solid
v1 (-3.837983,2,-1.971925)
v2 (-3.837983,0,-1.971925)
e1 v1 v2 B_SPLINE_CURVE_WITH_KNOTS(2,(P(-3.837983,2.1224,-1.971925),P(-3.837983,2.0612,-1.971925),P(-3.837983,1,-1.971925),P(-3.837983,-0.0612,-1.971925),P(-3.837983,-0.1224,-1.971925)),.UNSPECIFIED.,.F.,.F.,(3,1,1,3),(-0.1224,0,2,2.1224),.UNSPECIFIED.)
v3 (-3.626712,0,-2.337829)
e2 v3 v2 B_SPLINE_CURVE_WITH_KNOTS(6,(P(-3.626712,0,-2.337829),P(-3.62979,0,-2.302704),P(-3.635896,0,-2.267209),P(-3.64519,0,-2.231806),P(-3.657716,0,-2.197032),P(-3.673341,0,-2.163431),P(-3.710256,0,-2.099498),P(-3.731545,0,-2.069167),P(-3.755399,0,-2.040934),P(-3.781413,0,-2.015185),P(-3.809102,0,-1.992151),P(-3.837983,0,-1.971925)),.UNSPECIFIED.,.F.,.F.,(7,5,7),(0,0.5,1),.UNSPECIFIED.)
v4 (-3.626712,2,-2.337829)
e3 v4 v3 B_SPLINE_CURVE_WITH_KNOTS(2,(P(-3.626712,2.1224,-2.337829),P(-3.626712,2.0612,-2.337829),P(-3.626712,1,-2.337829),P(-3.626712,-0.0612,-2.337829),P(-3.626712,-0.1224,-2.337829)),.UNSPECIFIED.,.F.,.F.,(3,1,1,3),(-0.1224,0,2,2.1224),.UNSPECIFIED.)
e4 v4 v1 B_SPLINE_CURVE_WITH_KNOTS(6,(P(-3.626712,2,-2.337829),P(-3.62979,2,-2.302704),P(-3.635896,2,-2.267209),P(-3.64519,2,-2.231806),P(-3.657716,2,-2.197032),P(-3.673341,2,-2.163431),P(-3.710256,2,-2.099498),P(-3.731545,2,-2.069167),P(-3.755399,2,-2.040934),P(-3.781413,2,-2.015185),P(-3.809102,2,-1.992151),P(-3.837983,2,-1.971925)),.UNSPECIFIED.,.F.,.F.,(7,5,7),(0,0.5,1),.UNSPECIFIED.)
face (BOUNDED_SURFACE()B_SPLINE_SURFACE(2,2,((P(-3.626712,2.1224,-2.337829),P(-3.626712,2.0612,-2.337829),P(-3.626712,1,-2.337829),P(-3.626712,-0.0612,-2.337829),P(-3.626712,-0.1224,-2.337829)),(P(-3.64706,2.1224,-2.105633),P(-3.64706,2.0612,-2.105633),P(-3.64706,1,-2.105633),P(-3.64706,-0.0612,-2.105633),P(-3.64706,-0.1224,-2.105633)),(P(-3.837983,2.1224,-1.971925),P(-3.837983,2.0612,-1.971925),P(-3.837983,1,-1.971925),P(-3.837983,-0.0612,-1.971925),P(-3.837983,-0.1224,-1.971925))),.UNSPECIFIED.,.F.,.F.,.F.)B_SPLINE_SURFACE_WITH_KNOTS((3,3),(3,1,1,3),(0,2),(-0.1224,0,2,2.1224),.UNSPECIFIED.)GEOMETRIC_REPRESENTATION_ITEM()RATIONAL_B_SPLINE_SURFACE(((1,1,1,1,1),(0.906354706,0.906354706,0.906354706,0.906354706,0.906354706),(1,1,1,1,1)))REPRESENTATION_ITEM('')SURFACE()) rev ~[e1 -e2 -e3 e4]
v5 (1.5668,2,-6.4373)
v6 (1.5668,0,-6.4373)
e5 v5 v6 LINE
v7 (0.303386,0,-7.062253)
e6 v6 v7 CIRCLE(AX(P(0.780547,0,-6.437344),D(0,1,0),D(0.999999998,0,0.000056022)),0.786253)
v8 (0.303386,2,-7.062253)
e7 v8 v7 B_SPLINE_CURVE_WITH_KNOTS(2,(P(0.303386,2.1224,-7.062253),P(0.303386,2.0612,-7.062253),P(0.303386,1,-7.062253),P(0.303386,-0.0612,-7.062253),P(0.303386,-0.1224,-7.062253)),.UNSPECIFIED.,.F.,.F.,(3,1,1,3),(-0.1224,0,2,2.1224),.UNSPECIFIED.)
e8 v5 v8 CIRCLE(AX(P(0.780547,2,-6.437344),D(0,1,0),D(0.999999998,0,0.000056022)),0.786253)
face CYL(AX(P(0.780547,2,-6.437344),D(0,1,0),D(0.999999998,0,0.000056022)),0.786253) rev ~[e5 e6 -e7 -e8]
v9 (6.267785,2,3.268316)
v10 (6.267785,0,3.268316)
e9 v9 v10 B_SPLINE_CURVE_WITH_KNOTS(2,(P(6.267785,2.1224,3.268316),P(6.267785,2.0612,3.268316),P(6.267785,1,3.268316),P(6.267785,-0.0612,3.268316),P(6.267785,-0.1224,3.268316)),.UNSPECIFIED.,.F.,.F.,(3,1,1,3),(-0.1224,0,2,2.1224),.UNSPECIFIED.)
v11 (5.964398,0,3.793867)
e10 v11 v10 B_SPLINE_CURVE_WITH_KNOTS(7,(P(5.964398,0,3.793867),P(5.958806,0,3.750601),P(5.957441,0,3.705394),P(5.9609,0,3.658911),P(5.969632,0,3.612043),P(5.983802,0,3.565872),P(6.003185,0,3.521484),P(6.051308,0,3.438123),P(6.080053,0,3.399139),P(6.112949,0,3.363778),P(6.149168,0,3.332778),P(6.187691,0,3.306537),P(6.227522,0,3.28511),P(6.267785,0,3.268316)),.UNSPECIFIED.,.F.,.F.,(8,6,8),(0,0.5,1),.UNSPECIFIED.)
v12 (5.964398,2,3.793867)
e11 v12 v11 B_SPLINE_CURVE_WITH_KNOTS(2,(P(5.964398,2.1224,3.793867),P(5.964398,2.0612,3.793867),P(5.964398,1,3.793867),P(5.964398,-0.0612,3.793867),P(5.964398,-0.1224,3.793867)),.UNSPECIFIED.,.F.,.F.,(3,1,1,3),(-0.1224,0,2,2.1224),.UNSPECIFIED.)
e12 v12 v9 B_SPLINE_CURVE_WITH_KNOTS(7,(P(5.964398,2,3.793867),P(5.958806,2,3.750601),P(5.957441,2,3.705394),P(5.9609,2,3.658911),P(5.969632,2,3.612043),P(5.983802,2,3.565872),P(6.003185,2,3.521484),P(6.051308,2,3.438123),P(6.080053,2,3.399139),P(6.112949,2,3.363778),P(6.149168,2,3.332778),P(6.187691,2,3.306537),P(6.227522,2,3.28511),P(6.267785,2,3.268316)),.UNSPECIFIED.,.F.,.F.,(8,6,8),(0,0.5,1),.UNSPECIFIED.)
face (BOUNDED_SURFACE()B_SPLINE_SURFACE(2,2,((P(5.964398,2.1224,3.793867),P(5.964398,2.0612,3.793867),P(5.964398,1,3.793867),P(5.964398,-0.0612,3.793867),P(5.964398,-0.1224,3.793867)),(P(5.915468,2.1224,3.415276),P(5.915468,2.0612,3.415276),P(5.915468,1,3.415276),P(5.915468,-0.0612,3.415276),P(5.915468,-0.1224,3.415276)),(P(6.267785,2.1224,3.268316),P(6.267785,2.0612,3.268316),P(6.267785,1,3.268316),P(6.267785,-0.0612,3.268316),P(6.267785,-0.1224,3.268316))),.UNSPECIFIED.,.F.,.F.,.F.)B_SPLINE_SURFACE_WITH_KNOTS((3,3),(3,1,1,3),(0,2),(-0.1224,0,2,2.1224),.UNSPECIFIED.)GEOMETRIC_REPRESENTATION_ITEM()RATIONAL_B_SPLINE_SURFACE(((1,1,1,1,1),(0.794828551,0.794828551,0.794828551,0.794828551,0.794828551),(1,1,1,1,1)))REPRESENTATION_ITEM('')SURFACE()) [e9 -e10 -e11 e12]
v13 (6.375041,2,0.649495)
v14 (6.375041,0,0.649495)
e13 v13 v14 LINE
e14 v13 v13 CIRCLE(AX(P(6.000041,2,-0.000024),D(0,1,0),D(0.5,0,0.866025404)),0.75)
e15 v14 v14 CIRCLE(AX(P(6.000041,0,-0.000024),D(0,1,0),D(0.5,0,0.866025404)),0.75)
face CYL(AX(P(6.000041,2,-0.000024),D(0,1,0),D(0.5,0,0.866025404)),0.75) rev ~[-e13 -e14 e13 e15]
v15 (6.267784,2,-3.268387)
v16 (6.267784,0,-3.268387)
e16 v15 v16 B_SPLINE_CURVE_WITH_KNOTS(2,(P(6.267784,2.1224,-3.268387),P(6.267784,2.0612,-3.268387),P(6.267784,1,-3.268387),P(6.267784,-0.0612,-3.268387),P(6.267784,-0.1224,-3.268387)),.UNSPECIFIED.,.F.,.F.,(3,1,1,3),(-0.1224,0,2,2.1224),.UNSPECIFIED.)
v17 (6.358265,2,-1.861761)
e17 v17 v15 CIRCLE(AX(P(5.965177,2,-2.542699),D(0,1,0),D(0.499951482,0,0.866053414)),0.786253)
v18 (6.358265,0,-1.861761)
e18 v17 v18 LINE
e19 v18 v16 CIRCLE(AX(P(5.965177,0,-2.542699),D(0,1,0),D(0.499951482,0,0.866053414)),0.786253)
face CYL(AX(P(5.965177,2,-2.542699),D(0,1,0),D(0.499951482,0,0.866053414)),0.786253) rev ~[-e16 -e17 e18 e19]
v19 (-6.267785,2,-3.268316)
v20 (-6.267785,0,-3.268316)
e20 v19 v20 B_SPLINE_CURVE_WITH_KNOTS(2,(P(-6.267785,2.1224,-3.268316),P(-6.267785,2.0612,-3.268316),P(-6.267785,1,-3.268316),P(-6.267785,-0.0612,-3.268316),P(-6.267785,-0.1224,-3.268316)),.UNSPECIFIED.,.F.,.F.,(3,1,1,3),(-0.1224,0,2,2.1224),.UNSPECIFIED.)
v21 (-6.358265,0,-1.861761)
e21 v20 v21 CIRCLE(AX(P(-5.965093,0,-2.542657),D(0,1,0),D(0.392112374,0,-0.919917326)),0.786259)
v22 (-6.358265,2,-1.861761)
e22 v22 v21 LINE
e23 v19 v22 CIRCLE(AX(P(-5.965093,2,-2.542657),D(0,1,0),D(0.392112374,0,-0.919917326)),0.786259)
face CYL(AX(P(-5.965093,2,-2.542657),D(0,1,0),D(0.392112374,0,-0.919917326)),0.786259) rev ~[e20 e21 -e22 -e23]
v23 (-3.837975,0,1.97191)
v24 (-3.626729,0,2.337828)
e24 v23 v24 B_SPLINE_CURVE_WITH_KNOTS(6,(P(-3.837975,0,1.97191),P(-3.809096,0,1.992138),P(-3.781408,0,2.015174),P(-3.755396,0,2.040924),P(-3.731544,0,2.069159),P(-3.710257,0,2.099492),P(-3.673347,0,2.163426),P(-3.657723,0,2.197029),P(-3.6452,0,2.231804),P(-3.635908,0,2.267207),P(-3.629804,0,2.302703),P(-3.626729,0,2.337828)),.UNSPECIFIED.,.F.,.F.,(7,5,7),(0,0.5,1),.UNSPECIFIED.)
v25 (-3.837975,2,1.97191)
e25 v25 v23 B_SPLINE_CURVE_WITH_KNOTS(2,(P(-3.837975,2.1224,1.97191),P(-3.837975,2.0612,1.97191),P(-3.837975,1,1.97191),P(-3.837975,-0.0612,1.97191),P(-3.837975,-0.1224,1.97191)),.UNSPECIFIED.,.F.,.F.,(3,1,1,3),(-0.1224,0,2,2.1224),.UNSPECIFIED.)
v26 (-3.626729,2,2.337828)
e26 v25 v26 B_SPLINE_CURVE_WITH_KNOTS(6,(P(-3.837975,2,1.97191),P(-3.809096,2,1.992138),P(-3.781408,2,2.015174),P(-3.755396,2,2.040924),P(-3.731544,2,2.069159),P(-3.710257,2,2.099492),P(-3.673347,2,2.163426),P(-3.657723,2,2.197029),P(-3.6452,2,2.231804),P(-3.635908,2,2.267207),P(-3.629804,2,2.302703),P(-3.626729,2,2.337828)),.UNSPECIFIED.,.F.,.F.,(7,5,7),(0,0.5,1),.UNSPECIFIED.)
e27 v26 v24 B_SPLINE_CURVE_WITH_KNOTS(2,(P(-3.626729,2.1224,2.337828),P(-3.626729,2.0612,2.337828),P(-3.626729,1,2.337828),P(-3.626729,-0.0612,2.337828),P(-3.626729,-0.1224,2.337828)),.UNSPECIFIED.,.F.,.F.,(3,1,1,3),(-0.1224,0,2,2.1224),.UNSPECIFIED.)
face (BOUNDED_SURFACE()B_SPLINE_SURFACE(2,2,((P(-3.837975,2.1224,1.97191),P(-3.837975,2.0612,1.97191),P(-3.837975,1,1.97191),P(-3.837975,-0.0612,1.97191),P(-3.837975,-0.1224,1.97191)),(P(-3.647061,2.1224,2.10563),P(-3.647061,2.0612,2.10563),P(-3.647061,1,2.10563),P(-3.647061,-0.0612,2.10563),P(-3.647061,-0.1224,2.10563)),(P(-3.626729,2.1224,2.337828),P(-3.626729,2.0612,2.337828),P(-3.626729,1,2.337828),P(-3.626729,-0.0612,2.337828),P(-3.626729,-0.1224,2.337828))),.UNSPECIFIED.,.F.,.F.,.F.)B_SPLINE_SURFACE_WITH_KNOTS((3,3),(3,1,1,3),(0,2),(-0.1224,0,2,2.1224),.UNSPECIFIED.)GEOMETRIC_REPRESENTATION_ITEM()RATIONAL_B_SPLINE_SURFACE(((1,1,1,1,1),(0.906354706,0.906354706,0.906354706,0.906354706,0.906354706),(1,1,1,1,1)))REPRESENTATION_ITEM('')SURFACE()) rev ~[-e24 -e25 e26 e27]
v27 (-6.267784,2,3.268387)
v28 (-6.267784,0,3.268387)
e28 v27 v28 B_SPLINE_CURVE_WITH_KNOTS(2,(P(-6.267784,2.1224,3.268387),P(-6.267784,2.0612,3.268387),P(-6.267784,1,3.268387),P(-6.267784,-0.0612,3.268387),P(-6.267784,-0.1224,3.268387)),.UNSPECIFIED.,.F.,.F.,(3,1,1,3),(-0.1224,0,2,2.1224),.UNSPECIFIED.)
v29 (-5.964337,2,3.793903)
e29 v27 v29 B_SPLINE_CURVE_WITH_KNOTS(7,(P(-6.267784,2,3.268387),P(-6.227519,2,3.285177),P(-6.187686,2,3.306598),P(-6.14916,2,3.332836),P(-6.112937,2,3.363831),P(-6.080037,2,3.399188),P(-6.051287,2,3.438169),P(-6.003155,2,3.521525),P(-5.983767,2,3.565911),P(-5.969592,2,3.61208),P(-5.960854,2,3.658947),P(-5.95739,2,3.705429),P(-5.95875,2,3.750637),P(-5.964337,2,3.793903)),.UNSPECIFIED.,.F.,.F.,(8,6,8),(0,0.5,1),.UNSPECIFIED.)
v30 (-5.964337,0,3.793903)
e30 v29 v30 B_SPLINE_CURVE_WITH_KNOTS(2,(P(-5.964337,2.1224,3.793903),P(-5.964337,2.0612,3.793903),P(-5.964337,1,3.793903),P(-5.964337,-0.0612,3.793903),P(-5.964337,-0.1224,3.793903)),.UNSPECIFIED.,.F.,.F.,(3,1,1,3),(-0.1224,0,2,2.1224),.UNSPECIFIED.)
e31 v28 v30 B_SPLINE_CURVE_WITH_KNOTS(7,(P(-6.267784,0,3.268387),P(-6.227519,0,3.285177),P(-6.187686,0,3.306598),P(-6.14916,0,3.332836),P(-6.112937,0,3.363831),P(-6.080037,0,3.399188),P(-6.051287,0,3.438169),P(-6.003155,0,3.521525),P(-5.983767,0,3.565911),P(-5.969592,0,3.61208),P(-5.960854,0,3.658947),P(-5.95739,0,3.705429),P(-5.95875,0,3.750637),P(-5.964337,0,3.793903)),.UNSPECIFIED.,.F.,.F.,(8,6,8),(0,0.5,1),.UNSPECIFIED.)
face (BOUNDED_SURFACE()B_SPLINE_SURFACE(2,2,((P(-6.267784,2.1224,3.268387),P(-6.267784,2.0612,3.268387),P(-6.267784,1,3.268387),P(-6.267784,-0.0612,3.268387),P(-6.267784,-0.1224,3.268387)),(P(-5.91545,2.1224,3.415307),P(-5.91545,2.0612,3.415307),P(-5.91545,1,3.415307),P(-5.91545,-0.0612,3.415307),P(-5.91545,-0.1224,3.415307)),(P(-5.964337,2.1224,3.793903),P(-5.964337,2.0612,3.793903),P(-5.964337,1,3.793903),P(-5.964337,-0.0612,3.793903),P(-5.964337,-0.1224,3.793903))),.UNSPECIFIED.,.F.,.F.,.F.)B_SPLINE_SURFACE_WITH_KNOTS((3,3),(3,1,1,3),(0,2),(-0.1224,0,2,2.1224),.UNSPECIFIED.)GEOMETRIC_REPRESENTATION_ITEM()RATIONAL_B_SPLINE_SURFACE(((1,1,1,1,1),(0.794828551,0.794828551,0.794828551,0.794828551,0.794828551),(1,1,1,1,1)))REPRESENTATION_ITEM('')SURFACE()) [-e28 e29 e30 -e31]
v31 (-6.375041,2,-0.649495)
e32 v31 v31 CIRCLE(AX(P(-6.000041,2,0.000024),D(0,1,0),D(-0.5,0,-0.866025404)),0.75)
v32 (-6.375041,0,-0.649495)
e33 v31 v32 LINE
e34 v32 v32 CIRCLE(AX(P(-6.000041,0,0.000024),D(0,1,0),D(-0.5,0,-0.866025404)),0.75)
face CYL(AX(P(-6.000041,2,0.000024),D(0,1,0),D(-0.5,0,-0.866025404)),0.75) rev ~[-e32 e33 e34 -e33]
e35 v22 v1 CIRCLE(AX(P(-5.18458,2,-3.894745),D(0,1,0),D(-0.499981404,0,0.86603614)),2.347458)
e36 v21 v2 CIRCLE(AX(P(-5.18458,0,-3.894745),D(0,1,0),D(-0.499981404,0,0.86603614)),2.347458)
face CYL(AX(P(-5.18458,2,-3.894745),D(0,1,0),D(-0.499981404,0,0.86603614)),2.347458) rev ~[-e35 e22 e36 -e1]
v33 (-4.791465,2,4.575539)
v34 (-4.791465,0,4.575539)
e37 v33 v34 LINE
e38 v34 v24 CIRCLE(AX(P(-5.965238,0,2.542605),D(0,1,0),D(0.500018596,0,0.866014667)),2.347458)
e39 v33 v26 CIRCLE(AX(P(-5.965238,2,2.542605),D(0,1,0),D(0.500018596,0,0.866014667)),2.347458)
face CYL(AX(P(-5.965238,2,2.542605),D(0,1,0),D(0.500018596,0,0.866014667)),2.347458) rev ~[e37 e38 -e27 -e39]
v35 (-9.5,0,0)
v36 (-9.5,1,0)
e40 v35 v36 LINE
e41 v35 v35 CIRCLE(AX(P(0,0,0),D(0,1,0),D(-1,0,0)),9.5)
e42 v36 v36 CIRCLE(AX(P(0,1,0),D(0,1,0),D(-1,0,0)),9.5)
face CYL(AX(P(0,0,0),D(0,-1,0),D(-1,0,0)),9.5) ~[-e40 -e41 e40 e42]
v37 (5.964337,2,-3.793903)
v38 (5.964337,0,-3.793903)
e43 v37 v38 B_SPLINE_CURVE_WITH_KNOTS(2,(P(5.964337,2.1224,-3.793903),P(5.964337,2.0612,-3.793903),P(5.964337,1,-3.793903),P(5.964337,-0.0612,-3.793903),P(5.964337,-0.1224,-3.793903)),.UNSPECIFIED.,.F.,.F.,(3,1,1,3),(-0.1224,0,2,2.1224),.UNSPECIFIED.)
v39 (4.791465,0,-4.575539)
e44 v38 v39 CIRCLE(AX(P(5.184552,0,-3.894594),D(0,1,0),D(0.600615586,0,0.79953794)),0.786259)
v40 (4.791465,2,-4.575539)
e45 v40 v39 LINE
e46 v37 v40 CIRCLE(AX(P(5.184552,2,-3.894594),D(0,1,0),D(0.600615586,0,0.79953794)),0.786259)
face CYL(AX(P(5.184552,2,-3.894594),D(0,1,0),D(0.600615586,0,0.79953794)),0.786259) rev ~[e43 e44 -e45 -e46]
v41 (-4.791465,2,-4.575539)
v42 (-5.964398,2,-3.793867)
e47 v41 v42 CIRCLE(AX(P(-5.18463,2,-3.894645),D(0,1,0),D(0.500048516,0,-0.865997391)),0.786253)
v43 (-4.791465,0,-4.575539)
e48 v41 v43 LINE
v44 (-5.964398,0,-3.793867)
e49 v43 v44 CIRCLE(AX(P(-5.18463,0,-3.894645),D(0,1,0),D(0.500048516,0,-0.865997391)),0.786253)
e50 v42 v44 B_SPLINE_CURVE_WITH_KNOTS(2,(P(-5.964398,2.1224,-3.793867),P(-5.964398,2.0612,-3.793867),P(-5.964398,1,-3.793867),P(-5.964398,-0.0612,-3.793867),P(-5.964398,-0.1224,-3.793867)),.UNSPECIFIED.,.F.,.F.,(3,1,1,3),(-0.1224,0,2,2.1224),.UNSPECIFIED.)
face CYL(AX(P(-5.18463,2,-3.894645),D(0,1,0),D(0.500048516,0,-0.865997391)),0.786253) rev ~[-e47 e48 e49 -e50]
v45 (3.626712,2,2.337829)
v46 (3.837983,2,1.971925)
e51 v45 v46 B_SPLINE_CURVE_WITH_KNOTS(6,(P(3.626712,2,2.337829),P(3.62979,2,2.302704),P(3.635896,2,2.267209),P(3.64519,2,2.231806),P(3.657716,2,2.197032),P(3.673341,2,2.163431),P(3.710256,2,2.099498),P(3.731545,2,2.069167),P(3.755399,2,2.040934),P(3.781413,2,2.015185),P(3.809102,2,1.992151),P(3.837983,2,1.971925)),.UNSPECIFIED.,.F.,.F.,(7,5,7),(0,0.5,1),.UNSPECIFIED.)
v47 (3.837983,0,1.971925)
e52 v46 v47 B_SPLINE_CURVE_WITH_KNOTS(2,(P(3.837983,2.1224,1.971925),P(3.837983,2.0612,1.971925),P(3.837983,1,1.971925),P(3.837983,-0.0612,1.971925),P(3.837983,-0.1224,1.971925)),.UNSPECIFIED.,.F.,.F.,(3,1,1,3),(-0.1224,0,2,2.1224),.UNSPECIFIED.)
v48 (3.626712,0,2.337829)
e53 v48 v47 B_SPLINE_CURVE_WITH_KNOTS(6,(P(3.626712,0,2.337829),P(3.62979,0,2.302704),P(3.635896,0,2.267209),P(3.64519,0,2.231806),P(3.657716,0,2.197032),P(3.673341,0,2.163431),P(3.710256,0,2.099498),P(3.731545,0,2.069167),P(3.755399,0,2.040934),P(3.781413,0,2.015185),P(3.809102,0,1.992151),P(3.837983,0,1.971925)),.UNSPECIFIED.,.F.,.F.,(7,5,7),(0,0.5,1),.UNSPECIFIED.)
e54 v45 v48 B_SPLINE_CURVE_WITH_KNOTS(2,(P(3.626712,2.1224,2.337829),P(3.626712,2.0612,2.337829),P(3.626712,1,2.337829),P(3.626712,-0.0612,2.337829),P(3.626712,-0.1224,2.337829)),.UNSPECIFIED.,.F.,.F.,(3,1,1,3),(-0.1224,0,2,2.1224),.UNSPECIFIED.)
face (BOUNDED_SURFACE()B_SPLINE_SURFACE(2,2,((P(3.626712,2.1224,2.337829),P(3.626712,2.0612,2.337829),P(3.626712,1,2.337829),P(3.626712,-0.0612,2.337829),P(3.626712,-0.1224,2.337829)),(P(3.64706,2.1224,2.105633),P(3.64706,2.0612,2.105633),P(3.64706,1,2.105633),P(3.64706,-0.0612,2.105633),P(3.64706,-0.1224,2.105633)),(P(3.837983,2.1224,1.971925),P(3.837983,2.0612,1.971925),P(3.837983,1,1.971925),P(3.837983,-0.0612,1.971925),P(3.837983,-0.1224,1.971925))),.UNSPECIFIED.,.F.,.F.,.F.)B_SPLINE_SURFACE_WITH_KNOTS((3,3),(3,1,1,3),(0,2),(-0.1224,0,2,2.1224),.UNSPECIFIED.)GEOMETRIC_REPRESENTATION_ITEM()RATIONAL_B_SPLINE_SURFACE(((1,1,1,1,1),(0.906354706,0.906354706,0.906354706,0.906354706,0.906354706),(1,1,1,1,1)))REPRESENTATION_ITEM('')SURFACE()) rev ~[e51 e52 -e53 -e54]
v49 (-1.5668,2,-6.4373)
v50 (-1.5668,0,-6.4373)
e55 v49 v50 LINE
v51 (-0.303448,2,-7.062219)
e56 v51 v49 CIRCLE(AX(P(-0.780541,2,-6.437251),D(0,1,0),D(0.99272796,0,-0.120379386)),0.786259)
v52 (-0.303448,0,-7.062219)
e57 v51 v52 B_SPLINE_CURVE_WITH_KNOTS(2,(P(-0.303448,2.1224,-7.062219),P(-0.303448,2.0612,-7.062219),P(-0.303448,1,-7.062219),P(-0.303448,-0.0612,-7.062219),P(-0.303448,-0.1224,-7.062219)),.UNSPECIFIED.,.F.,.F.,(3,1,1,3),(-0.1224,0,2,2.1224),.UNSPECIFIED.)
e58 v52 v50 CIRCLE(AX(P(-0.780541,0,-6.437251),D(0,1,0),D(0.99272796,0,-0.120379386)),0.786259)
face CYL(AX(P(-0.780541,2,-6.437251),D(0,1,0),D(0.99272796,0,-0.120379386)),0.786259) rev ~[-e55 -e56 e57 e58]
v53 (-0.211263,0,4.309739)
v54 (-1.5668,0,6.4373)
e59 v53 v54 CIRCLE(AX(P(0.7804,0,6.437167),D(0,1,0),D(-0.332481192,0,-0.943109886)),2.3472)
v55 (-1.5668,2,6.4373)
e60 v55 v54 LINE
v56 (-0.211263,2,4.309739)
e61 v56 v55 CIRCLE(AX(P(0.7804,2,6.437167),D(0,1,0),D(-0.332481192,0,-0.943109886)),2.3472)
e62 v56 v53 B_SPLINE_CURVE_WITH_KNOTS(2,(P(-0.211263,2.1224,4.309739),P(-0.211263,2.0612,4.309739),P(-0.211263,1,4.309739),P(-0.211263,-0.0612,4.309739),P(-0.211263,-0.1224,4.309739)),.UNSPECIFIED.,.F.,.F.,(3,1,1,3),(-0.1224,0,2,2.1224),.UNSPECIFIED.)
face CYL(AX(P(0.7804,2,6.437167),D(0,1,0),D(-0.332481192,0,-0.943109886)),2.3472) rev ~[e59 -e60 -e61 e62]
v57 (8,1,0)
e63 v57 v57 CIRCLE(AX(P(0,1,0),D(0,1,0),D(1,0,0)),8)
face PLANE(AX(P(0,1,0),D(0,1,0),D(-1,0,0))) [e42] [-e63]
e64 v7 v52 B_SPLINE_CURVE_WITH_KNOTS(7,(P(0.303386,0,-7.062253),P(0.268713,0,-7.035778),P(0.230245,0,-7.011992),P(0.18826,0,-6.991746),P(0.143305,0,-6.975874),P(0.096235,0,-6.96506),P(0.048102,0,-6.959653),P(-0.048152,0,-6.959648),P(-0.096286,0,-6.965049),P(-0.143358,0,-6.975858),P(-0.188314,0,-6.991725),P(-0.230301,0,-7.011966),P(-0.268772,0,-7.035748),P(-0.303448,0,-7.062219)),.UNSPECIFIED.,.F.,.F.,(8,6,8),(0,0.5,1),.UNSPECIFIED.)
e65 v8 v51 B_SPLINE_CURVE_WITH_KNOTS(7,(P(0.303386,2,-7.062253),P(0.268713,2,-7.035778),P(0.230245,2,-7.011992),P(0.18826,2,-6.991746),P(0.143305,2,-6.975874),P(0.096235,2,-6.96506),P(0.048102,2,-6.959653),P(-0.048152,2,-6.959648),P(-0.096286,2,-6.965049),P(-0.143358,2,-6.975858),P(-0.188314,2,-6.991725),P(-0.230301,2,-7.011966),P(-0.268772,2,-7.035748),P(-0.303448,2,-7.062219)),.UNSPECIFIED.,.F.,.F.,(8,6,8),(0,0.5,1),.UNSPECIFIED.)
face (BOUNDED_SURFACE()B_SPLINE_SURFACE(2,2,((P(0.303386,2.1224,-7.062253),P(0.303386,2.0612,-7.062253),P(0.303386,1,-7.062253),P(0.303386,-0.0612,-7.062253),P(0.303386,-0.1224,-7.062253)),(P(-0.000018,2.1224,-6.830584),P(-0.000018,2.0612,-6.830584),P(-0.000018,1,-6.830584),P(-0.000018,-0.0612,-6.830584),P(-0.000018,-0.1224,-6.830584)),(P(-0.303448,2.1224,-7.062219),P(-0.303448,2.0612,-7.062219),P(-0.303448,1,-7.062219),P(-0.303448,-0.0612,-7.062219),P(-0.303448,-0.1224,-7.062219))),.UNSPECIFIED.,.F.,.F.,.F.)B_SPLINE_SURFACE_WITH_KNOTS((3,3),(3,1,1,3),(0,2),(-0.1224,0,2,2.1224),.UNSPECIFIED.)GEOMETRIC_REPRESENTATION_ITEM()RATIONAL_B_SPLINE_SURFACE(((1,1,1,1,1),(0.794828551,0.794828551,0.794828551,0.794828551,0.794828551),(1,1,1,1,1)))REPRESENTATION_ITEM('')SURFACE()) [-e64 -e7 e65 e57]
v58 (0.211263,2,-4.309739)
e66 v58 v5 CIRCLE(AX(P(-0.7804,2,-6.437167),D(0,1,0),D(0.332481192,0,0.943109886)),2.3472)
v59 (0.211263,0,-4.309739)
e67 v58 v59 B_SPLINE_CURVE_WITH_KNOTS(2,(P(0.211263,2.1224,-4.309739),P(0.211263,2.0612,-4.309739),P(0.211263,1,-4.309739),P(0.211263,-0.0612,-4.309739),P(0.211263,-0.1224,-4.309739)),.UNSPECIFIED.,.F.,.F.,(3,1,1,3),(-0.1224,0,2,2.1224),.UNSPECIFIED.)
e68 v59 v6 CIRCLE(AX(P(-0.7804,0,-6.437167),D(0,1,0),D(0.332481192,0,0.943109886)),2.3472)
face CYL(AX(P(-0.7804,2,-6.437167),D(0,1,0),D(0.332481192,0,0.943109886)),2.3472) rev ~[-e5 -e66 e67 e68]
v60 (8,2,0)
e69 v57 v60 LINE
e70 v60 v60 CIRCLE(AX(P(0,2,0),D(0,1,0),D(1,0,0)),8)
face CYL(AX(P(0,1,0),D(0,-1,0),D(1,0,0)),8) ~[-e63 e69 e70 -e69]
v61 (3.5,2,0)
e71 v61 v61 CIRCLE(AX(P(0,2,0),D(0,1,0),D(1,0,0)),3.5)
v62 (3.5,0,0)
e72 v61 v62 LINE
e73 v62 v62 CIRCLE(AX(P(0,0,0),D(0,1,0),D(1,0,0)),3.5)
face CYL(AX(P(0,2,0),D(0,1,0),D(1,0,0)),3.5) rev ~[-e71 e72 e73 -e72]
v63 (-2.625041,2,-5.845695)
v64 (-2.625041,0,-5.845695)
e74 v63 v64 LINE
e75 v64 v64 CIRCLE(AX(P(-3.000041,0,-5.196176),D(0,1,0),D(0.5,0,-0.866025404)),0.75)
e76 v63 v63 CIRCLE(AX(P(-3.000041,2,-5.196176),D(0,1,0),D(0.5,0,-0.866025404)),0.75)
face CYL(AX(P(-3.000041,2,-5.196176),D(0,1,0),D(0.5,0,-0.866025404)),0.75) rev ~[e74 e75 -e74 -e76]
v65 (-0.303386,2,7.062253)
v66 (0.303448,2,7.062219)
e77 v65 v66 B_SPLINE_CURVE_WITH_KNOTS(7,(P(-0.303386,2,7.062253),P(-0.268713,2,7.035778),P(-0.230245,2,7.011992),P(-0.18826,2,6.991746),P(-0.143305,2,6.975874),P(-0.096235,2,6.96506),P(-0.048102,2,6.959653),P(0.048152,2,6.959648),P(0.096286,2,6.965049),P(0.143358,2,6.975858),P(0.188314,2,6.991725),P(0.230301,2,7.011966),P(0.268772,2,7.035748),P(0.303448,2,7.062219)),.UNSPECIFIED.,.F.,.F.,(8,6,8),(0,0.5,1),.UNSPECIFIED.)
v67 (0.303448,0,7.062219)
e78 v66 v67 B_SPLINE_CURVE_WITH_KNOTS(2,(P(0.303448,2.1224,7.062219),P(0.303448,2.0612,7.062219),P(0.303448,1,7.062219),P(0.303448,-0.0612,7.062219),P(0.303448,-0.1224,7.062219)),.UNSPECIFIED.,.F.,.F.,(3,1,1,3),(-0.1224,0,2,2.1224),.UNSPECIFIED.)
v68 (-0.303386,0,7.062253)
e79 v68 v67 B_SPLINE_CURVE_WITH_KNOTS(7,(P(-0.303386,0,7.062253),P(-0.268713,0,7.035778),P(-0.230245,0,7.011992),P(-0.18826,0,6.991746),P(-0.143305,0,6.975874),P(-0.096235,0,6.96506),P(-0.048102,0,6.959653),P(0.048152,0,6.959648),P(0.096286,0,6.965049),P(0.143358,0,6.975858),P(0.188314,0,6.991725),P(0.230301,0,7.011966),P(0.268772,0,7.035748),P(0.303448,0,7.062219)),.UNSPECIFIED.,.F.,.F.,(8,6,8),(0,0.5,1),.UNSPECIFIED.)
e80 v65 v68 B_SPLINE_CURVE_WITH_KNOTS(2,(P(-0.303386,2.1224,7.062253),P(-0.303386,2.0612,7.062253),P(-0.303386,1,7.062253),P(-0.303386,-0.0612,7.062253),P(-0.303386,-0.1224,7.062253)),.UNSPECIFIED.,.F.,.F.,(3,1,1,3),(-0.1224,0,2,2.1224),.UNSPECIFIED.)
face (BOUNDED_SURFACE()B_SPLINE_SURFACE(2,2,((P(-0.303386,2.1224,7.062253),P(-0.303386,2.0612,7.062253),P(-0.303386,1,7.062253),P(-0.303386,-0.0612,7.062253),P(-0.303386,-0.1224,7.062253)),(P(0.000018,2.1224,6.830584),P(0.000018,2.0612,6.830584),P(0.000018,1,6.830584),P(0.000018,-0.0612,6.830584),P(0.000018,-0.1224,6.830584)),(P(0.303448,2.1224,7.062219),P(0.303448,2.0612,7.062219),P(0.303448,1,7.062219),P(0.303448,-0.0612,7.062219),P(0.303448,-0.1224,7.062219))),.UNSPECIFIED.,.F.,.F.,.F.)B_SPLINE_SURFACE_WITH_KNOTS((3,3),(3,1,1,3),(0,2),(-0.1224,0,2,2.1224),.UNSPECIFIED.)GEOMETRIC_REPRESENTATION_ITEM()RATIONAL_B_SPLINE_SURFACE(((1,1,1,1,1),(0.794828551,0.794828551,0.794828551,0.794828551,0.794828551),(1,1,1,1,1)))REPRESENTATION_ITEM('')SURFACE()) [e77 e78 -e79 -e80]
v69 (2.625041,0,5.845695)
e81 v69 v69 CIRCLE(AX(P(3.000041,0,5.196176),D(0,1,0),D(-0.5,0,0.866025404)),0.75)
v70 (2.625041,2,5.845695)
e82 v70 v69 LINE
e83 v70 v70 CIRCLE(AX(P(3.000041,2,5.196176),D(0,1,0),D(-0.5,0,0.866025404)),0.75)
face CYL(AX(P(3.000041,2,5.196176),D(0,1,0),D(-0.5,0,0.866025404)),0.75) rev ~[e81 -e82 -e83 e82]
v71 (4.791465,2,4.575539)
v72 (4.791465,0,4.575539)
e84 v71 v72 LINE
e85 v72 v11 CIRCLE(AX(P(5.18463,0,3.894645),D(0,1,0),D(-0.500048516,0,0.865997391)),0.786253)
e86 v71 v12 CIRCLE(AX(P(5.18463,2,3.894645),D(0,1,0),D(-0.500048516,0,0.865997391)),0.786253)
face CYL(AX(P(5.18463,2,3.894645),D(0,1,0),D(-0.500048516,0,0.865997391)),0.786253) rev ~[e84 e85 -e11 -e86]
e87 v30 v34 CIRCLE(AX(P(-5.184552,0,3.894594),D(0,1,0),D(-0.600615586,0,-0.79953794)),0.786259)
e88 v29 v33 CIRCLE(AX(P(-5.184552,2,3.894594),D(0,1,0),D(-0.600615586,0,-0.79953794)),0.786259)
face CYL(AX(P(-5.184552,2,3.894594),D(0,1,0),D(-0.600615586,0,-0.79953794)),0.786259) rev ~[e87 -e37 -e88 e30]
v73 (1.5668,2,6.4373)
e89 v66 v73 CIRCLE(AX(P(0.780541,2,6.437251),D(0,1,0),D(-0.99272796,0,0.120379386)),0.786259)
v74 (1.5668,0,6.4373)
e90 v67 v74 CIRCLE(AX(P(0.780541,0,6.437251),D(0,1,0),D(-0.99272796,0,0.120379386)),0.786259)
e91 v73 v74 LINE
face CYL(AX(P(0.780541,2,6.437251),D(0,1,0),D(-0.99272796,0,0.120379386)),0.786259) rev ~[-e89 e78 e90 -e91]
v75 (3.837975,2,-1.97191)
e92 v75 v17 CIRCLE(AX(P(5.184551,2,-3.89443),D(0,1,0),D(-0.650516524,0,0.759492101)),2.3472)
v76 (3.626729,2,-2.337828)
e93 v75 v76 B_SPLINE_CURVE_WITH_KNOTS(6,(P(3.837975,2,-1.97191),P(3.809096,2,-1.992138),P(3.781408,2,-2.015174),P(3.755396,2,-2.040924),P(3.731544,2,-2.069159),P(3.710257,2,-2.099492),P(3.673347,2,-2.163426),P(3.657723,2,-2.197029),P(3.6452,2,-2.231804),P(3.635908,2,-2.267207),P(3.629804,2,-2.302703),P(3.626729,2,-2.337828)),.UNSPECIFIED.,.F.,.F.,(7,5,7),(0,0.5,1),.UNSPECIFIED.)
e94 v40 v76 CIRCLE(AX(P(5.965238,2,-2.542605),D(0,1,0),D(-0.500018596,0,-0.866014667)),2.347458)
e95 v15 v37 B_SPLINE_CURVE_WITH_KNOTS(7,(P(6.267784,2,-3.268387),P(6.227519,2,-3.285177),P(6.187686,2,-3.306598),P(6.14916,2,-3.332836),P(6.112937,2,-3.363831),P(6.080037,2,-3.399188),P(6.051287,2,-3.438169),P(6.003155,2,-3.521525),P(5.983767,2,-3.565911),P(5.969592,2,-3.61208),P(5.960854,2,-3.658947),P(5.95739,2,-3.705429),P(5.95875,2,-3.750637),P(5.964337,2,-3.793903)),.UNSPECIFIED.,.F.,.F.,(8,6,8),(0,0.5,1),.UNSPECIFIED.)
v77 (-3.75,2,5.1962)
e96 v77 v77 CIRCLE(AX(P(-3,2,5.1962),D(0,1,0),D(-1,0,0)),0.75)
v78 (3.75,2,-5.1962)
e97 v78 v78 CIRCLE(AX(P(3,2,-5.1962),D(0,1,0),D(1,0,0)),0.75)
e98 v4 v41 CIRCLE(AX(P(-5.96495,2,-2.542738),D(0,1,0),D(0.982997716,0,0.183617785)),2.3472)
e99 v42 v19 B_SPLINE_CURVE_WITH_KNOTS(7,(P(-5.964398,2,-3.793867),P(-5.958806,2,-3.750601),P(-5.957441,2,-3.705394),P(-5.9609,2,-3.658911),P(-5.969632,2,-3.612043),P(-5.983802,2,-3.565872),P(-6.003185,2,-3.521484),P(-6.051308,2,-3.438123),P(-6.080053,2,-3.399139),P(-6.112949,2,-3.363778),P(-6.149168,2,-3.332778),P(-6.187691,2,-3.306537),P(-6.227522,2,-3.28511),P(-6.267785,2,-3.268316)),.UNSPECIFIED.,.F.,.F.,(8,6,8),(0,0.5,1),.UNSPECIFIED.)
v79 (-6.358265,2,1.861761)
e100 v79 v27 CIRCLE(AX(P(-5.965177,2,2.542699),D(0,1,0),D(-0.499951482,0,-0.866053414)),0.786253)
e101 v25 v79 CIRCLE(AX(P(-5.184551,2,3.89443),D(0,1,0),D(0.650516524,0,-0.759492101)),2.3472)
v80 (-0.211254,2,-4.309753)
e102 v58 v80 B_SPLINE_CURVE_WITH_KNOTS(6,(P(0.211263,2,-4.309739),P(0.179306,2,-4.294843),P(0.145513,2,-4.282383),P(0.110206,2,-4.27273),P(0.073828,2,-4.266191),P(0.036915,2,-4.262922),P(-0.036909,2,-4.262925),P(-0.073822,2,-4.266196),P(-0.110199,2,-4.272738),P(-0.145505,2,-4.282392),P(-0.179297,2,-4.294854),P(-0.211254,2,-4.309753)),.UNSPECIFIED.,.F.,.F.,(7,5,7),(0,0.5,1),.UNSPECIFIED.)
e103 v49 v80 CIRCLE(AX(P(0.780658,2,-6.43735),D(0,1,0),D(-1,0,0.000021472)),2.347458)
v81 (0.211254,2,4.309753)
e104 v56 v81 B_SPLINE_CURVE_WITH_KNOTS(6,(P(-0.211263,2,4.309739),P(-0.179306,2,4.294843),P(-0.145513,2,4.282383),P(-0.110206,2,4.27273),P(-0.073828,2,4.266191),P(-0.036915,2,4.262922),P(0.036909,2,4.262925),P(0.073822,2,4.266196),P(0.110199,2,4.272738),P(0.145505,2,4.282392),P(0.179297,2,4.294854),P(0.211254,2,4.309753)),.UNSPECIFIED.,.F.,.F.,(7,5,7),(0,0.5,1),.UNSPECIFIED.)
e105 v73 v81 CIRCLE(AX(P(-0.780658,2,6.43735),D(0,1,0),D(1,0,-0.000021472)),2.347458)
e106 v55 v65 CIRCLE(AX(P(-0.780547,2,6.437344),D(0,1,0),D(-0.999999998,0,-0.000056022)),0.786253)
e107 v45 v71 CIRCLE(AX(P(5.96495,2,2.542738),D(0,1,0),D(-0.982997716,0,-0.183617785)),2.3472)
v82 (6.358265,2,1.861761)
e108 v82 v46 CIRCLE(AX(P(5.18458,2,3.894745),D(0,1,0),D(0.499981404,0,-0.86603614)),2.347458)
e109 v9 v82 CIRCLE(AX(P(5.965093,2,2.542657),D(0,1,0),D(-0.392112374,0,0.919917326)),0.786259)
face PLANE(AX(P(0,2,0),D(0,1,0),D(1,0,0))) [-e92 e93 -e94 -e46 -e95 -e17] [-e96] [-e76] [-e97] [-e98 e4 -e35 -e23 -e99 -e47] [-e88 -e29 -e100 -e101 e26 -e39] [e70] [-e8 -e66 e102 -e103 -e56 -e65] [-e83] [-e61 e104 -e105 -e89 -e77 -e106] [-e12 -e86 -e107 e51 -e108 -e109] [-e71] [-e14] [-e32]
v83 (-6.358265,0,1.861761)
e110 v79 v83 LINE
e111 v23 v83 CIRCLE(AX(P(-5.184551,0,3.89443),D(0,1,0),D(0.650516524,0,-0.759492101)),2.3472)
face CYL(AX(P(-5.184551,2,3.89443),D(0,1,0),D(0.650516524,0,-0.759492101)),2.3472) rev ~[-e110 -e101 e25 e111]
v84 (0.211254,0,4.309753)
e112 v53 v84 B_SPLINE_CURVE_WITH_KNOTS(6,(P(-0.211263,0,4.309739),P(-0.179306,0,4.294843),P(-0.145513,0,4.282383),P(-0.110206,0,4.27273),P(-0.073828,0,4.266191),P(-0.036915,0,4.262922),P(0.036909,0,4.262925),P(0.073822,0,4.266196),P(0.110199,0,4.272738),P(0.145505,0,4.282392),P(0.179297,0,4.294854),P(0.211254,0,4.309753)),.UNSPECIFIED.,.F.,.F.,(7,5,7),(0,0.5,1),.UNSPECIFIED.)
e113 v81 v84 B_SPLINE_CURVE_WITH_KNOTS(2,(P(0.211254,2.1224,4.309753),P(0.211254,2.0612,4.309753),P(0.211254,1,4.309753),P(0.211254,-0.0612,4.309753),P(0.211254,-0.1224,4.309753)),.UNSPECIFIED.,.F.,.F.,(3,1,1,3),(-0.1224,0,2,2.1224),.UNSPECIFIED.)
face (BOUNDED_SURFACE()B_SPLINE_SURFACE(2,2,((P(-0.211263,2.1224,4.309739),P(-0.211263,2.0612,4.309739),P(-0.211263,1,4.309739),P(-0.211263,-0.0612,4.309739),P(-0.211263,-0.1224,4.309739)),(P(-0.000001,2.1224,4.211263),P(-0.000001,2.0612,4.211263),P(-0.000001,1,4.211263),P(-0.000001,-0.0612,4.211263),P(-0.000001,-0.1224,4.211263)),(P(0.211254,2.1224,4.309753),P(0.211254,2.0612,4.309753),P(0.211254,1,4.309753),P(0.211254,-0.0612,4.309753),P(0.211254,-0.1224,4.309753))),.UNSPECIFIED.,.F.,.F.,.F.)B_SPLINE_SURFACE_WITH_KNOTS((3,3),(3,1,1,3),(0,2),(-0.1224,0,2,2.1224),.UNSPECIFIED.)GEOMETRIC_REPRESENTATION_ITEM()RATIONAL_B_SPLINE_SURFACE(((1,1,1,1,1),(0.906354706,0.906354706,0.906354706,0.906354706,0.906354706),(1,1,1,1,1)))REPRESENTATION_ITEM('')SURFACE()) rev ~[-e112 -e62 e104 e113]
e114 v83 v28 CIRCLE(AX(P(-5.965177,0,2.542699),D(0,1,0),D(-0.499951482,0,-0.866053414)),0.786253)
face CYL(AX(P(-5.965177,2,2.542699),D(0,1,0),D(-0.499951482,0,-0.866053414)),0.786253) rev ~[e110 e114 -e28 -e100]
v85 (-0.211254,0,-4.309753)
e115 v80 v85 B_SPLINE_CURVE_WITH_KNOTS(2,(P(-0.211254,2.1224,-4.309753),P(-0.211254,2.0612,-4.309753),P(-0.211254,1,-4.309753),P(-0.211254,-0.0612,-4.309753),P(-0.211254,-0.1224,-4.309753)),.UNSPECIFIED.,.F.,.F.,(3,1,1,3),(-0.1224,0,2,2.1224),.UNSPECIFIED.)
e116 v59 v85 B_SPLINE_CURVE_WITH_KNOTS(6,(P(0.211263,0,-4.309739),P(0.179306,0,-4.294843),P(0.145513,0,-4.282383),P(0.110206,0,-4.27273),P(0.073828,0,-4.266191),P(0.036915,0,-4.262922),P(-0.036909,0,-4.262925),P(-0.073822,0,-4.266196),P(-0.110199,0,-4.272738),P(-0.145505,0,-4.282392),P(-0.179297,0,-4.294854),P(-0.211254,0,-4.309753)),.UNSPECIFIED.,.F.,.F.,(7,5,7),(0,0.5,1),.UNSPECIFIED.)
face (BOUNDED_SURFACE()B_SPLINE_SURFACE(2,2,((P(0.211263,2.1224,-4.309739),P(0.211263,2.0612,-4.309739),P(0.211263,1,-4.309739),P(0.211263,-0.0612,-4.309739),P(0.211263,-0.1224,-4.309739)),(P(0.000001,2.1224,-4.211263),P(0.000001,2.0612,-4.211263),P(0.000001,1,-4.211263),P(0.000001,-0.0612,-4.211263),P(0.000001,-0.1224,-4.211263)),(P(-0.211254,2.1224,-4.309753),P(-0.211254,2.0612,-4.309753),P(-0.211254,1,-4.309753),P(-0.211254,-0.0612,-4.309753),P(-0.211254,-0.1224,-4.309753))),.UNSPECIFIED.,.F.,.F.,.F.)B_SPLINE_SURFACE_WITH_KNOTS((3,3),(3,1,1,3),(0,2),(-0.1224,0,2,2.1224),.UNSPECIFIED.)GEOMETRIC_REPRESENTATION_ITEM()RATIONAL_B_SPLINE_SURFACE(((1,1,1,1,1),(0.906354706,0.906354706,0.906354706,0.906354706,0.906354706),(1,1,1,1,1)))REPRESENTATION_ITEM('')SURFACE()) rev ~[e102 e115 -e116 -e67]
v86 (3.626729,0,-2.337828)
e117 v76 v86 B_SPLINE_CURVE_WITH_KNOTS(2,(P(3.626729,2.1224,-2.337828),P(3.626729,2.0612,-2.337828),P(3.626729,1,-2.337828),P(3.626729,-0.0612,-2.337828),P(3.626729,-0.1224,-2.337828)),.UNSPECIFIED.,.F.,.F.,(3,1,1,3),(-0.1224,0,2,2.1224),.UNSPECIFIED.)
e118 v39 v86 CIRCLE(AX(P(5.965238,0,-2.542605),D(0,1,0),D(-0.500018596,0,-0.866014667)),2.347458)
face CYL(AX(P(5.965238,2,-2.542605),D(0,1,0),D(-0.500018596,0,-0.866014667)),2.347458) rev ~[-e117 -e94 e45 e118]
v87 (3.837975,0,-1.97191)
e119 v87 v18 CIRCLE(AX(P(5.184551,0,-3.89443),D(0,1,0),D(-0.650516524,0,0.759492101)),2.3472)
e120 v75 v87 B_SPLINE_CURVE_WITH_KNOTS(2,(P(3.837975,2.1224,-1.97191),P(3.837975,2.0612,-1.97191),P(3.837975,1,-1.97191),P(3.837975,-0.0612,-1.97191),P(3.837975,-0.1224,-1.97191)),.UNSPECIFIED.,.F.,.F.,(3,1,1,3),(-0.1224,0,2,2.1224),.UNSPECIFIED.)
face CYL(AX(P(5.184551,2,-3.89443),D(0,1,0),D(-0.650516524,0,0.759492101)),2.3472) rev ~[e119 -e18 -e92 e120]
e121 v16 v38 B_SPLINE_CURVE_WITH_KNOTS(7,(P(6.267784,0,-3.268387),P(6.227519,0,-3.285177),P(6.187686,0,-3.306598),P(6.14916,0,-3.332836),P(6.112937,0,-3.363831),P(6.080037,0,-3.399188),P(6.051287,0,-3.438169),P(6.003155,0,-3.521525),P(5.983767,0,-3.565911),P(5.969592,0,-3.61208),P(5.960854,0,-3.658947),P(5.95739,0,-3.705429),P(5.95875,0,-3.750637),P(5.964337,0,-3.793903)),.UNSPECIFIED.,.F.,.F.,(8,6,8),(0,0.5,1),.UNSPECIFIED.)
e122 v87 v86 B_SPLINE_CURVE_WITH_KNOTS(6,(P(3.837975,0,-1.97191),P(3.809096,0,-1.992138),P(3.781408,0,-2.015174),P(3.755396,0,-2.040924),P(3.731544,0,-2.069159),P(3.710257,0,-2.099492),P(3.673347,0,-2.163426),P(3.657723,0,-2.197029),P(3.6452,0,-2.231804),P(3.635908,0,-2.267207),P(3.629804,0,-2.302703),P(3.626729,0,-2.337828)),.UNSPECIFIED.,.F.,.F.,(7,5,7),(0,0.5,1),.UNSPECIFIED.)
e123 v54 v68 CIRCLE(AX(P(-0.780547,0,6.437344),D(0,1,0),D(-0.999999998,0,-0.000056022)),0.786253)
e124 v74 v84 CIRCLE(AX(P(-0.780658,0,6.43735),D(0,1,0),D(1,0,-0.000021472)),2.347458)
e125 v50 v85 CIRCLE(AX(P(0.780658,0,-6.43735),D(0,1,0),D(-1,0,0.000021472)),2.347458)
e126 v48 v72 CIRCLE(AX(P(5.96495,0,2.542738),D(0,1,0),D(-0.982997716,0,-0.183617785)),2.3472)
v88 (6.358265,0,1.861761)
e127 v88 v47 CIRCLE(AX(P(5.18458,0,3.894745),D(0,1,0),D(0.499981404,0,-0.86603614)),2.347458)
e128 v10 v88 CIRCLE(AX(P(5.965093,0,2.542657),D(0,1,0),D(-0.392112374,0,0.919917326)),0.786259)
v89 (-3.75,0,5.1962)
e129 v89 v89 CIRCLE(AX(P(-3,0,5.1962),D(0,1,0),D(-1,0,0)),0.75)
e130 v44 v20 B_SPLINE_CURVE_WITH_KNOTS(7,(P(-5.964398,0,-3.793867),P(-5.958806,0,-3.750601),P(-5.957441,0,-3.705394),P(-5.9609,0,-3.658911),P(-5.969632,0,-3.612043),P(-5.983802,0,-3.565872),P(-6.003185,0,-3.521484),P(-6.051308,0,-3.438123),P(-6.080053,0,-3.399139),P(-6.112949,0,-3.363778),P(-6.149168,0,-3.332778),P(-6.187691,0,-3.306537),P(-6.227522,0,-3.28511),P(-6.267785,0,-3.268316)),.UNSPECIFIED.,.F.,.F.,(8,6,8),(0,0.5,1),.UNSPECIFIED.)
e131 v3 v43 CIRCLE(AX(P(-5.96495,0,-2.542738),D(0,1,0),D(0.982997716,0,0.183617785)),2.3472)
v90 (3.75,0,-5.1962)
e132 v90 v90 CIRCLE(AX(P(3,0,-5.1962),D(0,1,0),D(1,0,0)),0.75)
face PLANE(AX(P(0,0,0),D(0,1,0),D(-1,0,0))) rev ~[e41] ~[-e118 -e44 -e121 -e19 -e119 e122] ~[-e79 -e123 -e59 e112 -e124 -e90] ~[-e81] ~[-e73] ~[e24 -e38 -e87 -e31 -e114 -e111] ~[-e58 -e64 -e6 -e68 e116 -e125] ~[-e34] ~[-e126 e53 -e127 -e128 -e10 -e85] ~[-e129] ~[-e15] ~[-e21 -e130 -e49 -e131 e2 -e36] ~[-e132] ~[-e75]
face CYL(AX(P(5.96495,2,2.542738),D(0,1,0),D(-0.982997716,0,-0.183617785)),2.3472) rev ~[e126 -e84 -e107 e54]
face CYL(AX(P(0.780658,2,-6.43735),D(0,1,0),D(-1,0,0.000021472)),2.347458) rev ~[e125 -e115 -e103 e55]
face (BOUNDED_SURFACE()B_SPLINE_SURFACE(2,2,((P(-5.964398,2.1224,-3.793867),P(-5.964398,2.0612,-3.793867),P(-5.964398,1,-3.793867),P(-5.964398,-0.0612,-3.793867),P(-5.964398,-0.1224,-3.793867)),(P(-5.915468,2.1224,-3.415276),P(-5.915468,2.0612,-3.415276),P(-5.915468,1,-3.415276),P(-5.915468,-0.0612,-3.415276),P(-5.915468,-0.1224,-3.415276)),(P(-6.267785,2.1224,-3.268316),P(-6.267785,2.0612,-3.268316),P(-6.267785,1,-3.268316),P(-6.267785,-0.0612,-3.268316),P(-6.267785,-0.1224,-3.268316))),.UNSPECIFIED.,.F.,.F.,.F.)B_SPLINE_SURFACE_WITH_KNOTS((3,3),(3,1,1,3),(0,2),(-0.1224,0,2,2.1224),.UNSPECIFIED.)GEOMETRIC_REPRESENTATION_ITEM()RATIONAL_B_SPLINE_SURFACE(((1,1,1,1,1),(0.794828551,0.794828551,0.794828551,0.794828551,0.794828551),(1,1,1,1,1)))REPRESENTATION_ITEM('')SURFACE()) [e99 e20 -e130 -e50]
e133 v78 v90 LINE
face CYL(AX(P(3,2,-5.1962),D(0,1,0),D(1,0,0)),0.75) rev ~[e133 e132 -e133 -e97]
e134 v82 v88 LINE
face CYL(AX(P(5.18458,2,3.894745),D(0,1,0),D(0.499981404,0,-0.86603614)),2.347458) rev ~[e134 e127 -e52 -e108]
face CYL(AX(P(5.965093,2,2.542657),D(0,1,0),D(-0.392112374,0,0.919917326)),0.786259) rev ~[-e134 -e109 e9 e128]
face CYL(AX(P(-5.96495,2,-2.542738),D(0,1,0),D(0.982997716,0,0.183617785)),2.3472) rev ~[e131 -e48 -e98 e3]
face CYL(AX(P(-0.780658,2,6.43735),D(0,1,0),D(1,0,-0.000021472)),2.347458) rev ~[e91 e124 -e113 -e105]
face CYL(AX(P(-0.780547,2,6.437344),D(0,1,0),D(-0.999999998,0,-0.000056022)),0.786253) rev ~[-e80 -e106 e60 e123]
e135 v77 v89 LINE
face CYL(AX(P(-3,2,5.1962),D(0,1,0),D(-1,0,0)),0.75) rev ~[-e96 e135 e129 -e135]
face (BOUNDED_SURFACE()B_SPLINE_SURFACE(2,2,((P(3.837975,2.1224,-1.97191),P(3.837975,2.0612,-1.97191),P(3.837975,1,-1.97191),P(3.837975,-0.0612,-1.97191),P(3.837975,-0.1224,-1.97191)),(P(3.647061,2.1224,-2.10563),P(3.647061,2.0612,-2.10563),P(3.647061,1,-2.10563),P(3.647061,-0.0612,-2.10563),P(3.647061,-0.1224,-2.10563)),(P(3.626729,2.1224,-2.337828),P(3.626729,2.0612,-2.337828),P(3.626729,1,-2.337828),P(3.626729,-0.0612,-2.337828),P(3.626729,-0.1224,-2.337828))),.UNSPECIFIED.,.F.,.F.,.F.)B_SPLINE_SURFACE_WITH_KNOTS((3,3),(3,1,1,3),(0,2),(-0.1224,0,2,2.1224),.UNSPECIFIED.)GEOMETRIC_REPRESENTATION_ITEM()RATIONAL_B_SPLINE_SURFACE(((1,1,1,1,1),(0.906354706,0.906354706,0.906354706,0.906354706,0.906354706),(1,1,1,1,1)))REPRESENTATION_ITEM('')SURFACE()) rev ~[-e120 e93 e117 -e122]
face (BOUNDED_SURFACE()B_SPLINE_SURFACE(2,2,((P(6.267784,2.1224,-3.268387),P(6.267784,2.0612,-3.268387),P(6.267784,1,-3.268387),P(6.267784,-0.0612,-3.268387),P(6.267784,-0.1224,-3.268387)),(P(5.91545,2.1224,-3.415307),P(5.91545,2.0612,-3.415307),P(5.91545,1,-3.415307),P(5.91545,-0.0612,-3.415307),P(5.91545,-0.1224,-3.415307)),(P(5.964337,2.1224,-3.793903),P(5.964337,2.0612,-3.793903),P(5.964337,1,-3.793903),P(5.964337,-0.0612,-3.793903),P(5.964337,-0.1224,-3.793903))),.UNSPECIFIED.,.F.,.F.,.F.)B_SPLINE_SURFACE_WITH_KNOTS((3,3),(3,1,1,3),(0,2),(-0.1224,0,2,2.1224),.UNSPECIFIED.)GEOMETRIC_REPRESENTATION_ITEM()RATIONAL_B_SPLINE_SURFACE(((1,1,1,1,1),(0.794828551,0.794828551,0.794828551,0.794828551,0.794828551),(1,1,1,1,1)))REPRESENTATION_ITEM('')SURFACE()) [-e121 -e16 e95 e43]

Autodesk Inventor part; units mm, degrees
ref_plane "YZ Plane" through (0, 0, 0) normal (1, 0, 0) x (0, 1, 0)
ref_plane "XZ Plane" through (0, 0, 0) normal (0, 1, 0) x (-1, 0, 0)
ref_plane "XY Plane" through (0, 0, 0) normal (0, 0, 1) x (1, 0, 0)
sketch "スケッチ1" plane through (0, 0, 0) normal (0, 1, 0) x (-1, 0, 0)
  circle A0 centre (0, 0) radius 9.5
  dimension "d0" = 19
extrude "押し出し1" add sketch "スケッチ1" along normal blind 1
sketch "スケッチ2" plane through (0, 1, 0) normal (0, 1, 0) x (1, 0, 0)
  circle A0 centre (0, 0) radius 8
  dimension "d4" = 16
extrude "押し出し2" add sketch "スケッチ2" along normal blind 1
sketch "スケッチ4" plane through (0, 2, 0) normal (0, 1, 0) x (1, 0, 0)
  circle A0 centre (0, 0) radius 3.5
  dimension "d20" = 7
extrude "押し出し4" cut sketch "スケッチ4" against normal blind 10
sketch "スケッチ5" plane through (0, 2, 0) normal (0, 1, 0) x (1, 0, 0)
  arc A0 (1.5668, 6.4373) -> (0, 6.5319) centre (0.7805, 6.4373) ccw
  arc A1 (0, 4.2235) -> (1.5668, 6.4373) centre (-0.7805, 6.4373) ccw
  line L0 (0, 6.5319) -> (0, 4.2235)
  line L1 (0.7805, 6.4373) -> (0, 6.4373) construction
  line L2 (-0.7805, 6.4373) -> (0, 6.4373) construction
  line L3 (1.5668, 4.5823) -> (1.5668, 2.8488) construction
  line L4 (1.5668, 5.2864) -> (1.5668, 3.0604) construction
  line L5 (-0.8113, 7.2235) -> (2.563, 7.2235) construction
  line L6 (0.8759, 7.2235) -> (0.963, 7.9418) construction
  line L7 (0, 4.2235) -> (0, 3.5) construction
  circle A2 centre (0, 0) radius 3.5 construction
  circle A3 centre (0, 0) radius 8 construction
  line L8 (-0.0717, 5.941) -> (0.1752, 7.9769) construction
  arc A4 (0, 6.5319) -> (-1.5668, 6.4373) centre (-0.7805, 6.4373) ccw
  arc A5 (-1.5668, 6.4373) -> (0, 4.2235) centre (0.7805, 6.4373) ccw
  circle A6 centre (3, 5.1962) radius 0.75
  circle A7 centre (0, 0) radius 6 construction
  dimension "d33" = 12
  dimension "d24" = 3
  dimension "d31" = 1.5
  dimension "d32" = 30
extrude "押し出し5" cut sketch "スケッチ5" against normal blind 10
fillet "フィレット1" radius 0.5 2 edges at (0, 1, -6.5319) (0, 1, -4.2235)
pattern_circular "円形状パターン1" count 6 over 360 about axis through (0, -10, 0) along (0, 1, 0) of "押し出し5", "フィレット1"
properties part number "wheelcap" material "ABS プラスチック"
